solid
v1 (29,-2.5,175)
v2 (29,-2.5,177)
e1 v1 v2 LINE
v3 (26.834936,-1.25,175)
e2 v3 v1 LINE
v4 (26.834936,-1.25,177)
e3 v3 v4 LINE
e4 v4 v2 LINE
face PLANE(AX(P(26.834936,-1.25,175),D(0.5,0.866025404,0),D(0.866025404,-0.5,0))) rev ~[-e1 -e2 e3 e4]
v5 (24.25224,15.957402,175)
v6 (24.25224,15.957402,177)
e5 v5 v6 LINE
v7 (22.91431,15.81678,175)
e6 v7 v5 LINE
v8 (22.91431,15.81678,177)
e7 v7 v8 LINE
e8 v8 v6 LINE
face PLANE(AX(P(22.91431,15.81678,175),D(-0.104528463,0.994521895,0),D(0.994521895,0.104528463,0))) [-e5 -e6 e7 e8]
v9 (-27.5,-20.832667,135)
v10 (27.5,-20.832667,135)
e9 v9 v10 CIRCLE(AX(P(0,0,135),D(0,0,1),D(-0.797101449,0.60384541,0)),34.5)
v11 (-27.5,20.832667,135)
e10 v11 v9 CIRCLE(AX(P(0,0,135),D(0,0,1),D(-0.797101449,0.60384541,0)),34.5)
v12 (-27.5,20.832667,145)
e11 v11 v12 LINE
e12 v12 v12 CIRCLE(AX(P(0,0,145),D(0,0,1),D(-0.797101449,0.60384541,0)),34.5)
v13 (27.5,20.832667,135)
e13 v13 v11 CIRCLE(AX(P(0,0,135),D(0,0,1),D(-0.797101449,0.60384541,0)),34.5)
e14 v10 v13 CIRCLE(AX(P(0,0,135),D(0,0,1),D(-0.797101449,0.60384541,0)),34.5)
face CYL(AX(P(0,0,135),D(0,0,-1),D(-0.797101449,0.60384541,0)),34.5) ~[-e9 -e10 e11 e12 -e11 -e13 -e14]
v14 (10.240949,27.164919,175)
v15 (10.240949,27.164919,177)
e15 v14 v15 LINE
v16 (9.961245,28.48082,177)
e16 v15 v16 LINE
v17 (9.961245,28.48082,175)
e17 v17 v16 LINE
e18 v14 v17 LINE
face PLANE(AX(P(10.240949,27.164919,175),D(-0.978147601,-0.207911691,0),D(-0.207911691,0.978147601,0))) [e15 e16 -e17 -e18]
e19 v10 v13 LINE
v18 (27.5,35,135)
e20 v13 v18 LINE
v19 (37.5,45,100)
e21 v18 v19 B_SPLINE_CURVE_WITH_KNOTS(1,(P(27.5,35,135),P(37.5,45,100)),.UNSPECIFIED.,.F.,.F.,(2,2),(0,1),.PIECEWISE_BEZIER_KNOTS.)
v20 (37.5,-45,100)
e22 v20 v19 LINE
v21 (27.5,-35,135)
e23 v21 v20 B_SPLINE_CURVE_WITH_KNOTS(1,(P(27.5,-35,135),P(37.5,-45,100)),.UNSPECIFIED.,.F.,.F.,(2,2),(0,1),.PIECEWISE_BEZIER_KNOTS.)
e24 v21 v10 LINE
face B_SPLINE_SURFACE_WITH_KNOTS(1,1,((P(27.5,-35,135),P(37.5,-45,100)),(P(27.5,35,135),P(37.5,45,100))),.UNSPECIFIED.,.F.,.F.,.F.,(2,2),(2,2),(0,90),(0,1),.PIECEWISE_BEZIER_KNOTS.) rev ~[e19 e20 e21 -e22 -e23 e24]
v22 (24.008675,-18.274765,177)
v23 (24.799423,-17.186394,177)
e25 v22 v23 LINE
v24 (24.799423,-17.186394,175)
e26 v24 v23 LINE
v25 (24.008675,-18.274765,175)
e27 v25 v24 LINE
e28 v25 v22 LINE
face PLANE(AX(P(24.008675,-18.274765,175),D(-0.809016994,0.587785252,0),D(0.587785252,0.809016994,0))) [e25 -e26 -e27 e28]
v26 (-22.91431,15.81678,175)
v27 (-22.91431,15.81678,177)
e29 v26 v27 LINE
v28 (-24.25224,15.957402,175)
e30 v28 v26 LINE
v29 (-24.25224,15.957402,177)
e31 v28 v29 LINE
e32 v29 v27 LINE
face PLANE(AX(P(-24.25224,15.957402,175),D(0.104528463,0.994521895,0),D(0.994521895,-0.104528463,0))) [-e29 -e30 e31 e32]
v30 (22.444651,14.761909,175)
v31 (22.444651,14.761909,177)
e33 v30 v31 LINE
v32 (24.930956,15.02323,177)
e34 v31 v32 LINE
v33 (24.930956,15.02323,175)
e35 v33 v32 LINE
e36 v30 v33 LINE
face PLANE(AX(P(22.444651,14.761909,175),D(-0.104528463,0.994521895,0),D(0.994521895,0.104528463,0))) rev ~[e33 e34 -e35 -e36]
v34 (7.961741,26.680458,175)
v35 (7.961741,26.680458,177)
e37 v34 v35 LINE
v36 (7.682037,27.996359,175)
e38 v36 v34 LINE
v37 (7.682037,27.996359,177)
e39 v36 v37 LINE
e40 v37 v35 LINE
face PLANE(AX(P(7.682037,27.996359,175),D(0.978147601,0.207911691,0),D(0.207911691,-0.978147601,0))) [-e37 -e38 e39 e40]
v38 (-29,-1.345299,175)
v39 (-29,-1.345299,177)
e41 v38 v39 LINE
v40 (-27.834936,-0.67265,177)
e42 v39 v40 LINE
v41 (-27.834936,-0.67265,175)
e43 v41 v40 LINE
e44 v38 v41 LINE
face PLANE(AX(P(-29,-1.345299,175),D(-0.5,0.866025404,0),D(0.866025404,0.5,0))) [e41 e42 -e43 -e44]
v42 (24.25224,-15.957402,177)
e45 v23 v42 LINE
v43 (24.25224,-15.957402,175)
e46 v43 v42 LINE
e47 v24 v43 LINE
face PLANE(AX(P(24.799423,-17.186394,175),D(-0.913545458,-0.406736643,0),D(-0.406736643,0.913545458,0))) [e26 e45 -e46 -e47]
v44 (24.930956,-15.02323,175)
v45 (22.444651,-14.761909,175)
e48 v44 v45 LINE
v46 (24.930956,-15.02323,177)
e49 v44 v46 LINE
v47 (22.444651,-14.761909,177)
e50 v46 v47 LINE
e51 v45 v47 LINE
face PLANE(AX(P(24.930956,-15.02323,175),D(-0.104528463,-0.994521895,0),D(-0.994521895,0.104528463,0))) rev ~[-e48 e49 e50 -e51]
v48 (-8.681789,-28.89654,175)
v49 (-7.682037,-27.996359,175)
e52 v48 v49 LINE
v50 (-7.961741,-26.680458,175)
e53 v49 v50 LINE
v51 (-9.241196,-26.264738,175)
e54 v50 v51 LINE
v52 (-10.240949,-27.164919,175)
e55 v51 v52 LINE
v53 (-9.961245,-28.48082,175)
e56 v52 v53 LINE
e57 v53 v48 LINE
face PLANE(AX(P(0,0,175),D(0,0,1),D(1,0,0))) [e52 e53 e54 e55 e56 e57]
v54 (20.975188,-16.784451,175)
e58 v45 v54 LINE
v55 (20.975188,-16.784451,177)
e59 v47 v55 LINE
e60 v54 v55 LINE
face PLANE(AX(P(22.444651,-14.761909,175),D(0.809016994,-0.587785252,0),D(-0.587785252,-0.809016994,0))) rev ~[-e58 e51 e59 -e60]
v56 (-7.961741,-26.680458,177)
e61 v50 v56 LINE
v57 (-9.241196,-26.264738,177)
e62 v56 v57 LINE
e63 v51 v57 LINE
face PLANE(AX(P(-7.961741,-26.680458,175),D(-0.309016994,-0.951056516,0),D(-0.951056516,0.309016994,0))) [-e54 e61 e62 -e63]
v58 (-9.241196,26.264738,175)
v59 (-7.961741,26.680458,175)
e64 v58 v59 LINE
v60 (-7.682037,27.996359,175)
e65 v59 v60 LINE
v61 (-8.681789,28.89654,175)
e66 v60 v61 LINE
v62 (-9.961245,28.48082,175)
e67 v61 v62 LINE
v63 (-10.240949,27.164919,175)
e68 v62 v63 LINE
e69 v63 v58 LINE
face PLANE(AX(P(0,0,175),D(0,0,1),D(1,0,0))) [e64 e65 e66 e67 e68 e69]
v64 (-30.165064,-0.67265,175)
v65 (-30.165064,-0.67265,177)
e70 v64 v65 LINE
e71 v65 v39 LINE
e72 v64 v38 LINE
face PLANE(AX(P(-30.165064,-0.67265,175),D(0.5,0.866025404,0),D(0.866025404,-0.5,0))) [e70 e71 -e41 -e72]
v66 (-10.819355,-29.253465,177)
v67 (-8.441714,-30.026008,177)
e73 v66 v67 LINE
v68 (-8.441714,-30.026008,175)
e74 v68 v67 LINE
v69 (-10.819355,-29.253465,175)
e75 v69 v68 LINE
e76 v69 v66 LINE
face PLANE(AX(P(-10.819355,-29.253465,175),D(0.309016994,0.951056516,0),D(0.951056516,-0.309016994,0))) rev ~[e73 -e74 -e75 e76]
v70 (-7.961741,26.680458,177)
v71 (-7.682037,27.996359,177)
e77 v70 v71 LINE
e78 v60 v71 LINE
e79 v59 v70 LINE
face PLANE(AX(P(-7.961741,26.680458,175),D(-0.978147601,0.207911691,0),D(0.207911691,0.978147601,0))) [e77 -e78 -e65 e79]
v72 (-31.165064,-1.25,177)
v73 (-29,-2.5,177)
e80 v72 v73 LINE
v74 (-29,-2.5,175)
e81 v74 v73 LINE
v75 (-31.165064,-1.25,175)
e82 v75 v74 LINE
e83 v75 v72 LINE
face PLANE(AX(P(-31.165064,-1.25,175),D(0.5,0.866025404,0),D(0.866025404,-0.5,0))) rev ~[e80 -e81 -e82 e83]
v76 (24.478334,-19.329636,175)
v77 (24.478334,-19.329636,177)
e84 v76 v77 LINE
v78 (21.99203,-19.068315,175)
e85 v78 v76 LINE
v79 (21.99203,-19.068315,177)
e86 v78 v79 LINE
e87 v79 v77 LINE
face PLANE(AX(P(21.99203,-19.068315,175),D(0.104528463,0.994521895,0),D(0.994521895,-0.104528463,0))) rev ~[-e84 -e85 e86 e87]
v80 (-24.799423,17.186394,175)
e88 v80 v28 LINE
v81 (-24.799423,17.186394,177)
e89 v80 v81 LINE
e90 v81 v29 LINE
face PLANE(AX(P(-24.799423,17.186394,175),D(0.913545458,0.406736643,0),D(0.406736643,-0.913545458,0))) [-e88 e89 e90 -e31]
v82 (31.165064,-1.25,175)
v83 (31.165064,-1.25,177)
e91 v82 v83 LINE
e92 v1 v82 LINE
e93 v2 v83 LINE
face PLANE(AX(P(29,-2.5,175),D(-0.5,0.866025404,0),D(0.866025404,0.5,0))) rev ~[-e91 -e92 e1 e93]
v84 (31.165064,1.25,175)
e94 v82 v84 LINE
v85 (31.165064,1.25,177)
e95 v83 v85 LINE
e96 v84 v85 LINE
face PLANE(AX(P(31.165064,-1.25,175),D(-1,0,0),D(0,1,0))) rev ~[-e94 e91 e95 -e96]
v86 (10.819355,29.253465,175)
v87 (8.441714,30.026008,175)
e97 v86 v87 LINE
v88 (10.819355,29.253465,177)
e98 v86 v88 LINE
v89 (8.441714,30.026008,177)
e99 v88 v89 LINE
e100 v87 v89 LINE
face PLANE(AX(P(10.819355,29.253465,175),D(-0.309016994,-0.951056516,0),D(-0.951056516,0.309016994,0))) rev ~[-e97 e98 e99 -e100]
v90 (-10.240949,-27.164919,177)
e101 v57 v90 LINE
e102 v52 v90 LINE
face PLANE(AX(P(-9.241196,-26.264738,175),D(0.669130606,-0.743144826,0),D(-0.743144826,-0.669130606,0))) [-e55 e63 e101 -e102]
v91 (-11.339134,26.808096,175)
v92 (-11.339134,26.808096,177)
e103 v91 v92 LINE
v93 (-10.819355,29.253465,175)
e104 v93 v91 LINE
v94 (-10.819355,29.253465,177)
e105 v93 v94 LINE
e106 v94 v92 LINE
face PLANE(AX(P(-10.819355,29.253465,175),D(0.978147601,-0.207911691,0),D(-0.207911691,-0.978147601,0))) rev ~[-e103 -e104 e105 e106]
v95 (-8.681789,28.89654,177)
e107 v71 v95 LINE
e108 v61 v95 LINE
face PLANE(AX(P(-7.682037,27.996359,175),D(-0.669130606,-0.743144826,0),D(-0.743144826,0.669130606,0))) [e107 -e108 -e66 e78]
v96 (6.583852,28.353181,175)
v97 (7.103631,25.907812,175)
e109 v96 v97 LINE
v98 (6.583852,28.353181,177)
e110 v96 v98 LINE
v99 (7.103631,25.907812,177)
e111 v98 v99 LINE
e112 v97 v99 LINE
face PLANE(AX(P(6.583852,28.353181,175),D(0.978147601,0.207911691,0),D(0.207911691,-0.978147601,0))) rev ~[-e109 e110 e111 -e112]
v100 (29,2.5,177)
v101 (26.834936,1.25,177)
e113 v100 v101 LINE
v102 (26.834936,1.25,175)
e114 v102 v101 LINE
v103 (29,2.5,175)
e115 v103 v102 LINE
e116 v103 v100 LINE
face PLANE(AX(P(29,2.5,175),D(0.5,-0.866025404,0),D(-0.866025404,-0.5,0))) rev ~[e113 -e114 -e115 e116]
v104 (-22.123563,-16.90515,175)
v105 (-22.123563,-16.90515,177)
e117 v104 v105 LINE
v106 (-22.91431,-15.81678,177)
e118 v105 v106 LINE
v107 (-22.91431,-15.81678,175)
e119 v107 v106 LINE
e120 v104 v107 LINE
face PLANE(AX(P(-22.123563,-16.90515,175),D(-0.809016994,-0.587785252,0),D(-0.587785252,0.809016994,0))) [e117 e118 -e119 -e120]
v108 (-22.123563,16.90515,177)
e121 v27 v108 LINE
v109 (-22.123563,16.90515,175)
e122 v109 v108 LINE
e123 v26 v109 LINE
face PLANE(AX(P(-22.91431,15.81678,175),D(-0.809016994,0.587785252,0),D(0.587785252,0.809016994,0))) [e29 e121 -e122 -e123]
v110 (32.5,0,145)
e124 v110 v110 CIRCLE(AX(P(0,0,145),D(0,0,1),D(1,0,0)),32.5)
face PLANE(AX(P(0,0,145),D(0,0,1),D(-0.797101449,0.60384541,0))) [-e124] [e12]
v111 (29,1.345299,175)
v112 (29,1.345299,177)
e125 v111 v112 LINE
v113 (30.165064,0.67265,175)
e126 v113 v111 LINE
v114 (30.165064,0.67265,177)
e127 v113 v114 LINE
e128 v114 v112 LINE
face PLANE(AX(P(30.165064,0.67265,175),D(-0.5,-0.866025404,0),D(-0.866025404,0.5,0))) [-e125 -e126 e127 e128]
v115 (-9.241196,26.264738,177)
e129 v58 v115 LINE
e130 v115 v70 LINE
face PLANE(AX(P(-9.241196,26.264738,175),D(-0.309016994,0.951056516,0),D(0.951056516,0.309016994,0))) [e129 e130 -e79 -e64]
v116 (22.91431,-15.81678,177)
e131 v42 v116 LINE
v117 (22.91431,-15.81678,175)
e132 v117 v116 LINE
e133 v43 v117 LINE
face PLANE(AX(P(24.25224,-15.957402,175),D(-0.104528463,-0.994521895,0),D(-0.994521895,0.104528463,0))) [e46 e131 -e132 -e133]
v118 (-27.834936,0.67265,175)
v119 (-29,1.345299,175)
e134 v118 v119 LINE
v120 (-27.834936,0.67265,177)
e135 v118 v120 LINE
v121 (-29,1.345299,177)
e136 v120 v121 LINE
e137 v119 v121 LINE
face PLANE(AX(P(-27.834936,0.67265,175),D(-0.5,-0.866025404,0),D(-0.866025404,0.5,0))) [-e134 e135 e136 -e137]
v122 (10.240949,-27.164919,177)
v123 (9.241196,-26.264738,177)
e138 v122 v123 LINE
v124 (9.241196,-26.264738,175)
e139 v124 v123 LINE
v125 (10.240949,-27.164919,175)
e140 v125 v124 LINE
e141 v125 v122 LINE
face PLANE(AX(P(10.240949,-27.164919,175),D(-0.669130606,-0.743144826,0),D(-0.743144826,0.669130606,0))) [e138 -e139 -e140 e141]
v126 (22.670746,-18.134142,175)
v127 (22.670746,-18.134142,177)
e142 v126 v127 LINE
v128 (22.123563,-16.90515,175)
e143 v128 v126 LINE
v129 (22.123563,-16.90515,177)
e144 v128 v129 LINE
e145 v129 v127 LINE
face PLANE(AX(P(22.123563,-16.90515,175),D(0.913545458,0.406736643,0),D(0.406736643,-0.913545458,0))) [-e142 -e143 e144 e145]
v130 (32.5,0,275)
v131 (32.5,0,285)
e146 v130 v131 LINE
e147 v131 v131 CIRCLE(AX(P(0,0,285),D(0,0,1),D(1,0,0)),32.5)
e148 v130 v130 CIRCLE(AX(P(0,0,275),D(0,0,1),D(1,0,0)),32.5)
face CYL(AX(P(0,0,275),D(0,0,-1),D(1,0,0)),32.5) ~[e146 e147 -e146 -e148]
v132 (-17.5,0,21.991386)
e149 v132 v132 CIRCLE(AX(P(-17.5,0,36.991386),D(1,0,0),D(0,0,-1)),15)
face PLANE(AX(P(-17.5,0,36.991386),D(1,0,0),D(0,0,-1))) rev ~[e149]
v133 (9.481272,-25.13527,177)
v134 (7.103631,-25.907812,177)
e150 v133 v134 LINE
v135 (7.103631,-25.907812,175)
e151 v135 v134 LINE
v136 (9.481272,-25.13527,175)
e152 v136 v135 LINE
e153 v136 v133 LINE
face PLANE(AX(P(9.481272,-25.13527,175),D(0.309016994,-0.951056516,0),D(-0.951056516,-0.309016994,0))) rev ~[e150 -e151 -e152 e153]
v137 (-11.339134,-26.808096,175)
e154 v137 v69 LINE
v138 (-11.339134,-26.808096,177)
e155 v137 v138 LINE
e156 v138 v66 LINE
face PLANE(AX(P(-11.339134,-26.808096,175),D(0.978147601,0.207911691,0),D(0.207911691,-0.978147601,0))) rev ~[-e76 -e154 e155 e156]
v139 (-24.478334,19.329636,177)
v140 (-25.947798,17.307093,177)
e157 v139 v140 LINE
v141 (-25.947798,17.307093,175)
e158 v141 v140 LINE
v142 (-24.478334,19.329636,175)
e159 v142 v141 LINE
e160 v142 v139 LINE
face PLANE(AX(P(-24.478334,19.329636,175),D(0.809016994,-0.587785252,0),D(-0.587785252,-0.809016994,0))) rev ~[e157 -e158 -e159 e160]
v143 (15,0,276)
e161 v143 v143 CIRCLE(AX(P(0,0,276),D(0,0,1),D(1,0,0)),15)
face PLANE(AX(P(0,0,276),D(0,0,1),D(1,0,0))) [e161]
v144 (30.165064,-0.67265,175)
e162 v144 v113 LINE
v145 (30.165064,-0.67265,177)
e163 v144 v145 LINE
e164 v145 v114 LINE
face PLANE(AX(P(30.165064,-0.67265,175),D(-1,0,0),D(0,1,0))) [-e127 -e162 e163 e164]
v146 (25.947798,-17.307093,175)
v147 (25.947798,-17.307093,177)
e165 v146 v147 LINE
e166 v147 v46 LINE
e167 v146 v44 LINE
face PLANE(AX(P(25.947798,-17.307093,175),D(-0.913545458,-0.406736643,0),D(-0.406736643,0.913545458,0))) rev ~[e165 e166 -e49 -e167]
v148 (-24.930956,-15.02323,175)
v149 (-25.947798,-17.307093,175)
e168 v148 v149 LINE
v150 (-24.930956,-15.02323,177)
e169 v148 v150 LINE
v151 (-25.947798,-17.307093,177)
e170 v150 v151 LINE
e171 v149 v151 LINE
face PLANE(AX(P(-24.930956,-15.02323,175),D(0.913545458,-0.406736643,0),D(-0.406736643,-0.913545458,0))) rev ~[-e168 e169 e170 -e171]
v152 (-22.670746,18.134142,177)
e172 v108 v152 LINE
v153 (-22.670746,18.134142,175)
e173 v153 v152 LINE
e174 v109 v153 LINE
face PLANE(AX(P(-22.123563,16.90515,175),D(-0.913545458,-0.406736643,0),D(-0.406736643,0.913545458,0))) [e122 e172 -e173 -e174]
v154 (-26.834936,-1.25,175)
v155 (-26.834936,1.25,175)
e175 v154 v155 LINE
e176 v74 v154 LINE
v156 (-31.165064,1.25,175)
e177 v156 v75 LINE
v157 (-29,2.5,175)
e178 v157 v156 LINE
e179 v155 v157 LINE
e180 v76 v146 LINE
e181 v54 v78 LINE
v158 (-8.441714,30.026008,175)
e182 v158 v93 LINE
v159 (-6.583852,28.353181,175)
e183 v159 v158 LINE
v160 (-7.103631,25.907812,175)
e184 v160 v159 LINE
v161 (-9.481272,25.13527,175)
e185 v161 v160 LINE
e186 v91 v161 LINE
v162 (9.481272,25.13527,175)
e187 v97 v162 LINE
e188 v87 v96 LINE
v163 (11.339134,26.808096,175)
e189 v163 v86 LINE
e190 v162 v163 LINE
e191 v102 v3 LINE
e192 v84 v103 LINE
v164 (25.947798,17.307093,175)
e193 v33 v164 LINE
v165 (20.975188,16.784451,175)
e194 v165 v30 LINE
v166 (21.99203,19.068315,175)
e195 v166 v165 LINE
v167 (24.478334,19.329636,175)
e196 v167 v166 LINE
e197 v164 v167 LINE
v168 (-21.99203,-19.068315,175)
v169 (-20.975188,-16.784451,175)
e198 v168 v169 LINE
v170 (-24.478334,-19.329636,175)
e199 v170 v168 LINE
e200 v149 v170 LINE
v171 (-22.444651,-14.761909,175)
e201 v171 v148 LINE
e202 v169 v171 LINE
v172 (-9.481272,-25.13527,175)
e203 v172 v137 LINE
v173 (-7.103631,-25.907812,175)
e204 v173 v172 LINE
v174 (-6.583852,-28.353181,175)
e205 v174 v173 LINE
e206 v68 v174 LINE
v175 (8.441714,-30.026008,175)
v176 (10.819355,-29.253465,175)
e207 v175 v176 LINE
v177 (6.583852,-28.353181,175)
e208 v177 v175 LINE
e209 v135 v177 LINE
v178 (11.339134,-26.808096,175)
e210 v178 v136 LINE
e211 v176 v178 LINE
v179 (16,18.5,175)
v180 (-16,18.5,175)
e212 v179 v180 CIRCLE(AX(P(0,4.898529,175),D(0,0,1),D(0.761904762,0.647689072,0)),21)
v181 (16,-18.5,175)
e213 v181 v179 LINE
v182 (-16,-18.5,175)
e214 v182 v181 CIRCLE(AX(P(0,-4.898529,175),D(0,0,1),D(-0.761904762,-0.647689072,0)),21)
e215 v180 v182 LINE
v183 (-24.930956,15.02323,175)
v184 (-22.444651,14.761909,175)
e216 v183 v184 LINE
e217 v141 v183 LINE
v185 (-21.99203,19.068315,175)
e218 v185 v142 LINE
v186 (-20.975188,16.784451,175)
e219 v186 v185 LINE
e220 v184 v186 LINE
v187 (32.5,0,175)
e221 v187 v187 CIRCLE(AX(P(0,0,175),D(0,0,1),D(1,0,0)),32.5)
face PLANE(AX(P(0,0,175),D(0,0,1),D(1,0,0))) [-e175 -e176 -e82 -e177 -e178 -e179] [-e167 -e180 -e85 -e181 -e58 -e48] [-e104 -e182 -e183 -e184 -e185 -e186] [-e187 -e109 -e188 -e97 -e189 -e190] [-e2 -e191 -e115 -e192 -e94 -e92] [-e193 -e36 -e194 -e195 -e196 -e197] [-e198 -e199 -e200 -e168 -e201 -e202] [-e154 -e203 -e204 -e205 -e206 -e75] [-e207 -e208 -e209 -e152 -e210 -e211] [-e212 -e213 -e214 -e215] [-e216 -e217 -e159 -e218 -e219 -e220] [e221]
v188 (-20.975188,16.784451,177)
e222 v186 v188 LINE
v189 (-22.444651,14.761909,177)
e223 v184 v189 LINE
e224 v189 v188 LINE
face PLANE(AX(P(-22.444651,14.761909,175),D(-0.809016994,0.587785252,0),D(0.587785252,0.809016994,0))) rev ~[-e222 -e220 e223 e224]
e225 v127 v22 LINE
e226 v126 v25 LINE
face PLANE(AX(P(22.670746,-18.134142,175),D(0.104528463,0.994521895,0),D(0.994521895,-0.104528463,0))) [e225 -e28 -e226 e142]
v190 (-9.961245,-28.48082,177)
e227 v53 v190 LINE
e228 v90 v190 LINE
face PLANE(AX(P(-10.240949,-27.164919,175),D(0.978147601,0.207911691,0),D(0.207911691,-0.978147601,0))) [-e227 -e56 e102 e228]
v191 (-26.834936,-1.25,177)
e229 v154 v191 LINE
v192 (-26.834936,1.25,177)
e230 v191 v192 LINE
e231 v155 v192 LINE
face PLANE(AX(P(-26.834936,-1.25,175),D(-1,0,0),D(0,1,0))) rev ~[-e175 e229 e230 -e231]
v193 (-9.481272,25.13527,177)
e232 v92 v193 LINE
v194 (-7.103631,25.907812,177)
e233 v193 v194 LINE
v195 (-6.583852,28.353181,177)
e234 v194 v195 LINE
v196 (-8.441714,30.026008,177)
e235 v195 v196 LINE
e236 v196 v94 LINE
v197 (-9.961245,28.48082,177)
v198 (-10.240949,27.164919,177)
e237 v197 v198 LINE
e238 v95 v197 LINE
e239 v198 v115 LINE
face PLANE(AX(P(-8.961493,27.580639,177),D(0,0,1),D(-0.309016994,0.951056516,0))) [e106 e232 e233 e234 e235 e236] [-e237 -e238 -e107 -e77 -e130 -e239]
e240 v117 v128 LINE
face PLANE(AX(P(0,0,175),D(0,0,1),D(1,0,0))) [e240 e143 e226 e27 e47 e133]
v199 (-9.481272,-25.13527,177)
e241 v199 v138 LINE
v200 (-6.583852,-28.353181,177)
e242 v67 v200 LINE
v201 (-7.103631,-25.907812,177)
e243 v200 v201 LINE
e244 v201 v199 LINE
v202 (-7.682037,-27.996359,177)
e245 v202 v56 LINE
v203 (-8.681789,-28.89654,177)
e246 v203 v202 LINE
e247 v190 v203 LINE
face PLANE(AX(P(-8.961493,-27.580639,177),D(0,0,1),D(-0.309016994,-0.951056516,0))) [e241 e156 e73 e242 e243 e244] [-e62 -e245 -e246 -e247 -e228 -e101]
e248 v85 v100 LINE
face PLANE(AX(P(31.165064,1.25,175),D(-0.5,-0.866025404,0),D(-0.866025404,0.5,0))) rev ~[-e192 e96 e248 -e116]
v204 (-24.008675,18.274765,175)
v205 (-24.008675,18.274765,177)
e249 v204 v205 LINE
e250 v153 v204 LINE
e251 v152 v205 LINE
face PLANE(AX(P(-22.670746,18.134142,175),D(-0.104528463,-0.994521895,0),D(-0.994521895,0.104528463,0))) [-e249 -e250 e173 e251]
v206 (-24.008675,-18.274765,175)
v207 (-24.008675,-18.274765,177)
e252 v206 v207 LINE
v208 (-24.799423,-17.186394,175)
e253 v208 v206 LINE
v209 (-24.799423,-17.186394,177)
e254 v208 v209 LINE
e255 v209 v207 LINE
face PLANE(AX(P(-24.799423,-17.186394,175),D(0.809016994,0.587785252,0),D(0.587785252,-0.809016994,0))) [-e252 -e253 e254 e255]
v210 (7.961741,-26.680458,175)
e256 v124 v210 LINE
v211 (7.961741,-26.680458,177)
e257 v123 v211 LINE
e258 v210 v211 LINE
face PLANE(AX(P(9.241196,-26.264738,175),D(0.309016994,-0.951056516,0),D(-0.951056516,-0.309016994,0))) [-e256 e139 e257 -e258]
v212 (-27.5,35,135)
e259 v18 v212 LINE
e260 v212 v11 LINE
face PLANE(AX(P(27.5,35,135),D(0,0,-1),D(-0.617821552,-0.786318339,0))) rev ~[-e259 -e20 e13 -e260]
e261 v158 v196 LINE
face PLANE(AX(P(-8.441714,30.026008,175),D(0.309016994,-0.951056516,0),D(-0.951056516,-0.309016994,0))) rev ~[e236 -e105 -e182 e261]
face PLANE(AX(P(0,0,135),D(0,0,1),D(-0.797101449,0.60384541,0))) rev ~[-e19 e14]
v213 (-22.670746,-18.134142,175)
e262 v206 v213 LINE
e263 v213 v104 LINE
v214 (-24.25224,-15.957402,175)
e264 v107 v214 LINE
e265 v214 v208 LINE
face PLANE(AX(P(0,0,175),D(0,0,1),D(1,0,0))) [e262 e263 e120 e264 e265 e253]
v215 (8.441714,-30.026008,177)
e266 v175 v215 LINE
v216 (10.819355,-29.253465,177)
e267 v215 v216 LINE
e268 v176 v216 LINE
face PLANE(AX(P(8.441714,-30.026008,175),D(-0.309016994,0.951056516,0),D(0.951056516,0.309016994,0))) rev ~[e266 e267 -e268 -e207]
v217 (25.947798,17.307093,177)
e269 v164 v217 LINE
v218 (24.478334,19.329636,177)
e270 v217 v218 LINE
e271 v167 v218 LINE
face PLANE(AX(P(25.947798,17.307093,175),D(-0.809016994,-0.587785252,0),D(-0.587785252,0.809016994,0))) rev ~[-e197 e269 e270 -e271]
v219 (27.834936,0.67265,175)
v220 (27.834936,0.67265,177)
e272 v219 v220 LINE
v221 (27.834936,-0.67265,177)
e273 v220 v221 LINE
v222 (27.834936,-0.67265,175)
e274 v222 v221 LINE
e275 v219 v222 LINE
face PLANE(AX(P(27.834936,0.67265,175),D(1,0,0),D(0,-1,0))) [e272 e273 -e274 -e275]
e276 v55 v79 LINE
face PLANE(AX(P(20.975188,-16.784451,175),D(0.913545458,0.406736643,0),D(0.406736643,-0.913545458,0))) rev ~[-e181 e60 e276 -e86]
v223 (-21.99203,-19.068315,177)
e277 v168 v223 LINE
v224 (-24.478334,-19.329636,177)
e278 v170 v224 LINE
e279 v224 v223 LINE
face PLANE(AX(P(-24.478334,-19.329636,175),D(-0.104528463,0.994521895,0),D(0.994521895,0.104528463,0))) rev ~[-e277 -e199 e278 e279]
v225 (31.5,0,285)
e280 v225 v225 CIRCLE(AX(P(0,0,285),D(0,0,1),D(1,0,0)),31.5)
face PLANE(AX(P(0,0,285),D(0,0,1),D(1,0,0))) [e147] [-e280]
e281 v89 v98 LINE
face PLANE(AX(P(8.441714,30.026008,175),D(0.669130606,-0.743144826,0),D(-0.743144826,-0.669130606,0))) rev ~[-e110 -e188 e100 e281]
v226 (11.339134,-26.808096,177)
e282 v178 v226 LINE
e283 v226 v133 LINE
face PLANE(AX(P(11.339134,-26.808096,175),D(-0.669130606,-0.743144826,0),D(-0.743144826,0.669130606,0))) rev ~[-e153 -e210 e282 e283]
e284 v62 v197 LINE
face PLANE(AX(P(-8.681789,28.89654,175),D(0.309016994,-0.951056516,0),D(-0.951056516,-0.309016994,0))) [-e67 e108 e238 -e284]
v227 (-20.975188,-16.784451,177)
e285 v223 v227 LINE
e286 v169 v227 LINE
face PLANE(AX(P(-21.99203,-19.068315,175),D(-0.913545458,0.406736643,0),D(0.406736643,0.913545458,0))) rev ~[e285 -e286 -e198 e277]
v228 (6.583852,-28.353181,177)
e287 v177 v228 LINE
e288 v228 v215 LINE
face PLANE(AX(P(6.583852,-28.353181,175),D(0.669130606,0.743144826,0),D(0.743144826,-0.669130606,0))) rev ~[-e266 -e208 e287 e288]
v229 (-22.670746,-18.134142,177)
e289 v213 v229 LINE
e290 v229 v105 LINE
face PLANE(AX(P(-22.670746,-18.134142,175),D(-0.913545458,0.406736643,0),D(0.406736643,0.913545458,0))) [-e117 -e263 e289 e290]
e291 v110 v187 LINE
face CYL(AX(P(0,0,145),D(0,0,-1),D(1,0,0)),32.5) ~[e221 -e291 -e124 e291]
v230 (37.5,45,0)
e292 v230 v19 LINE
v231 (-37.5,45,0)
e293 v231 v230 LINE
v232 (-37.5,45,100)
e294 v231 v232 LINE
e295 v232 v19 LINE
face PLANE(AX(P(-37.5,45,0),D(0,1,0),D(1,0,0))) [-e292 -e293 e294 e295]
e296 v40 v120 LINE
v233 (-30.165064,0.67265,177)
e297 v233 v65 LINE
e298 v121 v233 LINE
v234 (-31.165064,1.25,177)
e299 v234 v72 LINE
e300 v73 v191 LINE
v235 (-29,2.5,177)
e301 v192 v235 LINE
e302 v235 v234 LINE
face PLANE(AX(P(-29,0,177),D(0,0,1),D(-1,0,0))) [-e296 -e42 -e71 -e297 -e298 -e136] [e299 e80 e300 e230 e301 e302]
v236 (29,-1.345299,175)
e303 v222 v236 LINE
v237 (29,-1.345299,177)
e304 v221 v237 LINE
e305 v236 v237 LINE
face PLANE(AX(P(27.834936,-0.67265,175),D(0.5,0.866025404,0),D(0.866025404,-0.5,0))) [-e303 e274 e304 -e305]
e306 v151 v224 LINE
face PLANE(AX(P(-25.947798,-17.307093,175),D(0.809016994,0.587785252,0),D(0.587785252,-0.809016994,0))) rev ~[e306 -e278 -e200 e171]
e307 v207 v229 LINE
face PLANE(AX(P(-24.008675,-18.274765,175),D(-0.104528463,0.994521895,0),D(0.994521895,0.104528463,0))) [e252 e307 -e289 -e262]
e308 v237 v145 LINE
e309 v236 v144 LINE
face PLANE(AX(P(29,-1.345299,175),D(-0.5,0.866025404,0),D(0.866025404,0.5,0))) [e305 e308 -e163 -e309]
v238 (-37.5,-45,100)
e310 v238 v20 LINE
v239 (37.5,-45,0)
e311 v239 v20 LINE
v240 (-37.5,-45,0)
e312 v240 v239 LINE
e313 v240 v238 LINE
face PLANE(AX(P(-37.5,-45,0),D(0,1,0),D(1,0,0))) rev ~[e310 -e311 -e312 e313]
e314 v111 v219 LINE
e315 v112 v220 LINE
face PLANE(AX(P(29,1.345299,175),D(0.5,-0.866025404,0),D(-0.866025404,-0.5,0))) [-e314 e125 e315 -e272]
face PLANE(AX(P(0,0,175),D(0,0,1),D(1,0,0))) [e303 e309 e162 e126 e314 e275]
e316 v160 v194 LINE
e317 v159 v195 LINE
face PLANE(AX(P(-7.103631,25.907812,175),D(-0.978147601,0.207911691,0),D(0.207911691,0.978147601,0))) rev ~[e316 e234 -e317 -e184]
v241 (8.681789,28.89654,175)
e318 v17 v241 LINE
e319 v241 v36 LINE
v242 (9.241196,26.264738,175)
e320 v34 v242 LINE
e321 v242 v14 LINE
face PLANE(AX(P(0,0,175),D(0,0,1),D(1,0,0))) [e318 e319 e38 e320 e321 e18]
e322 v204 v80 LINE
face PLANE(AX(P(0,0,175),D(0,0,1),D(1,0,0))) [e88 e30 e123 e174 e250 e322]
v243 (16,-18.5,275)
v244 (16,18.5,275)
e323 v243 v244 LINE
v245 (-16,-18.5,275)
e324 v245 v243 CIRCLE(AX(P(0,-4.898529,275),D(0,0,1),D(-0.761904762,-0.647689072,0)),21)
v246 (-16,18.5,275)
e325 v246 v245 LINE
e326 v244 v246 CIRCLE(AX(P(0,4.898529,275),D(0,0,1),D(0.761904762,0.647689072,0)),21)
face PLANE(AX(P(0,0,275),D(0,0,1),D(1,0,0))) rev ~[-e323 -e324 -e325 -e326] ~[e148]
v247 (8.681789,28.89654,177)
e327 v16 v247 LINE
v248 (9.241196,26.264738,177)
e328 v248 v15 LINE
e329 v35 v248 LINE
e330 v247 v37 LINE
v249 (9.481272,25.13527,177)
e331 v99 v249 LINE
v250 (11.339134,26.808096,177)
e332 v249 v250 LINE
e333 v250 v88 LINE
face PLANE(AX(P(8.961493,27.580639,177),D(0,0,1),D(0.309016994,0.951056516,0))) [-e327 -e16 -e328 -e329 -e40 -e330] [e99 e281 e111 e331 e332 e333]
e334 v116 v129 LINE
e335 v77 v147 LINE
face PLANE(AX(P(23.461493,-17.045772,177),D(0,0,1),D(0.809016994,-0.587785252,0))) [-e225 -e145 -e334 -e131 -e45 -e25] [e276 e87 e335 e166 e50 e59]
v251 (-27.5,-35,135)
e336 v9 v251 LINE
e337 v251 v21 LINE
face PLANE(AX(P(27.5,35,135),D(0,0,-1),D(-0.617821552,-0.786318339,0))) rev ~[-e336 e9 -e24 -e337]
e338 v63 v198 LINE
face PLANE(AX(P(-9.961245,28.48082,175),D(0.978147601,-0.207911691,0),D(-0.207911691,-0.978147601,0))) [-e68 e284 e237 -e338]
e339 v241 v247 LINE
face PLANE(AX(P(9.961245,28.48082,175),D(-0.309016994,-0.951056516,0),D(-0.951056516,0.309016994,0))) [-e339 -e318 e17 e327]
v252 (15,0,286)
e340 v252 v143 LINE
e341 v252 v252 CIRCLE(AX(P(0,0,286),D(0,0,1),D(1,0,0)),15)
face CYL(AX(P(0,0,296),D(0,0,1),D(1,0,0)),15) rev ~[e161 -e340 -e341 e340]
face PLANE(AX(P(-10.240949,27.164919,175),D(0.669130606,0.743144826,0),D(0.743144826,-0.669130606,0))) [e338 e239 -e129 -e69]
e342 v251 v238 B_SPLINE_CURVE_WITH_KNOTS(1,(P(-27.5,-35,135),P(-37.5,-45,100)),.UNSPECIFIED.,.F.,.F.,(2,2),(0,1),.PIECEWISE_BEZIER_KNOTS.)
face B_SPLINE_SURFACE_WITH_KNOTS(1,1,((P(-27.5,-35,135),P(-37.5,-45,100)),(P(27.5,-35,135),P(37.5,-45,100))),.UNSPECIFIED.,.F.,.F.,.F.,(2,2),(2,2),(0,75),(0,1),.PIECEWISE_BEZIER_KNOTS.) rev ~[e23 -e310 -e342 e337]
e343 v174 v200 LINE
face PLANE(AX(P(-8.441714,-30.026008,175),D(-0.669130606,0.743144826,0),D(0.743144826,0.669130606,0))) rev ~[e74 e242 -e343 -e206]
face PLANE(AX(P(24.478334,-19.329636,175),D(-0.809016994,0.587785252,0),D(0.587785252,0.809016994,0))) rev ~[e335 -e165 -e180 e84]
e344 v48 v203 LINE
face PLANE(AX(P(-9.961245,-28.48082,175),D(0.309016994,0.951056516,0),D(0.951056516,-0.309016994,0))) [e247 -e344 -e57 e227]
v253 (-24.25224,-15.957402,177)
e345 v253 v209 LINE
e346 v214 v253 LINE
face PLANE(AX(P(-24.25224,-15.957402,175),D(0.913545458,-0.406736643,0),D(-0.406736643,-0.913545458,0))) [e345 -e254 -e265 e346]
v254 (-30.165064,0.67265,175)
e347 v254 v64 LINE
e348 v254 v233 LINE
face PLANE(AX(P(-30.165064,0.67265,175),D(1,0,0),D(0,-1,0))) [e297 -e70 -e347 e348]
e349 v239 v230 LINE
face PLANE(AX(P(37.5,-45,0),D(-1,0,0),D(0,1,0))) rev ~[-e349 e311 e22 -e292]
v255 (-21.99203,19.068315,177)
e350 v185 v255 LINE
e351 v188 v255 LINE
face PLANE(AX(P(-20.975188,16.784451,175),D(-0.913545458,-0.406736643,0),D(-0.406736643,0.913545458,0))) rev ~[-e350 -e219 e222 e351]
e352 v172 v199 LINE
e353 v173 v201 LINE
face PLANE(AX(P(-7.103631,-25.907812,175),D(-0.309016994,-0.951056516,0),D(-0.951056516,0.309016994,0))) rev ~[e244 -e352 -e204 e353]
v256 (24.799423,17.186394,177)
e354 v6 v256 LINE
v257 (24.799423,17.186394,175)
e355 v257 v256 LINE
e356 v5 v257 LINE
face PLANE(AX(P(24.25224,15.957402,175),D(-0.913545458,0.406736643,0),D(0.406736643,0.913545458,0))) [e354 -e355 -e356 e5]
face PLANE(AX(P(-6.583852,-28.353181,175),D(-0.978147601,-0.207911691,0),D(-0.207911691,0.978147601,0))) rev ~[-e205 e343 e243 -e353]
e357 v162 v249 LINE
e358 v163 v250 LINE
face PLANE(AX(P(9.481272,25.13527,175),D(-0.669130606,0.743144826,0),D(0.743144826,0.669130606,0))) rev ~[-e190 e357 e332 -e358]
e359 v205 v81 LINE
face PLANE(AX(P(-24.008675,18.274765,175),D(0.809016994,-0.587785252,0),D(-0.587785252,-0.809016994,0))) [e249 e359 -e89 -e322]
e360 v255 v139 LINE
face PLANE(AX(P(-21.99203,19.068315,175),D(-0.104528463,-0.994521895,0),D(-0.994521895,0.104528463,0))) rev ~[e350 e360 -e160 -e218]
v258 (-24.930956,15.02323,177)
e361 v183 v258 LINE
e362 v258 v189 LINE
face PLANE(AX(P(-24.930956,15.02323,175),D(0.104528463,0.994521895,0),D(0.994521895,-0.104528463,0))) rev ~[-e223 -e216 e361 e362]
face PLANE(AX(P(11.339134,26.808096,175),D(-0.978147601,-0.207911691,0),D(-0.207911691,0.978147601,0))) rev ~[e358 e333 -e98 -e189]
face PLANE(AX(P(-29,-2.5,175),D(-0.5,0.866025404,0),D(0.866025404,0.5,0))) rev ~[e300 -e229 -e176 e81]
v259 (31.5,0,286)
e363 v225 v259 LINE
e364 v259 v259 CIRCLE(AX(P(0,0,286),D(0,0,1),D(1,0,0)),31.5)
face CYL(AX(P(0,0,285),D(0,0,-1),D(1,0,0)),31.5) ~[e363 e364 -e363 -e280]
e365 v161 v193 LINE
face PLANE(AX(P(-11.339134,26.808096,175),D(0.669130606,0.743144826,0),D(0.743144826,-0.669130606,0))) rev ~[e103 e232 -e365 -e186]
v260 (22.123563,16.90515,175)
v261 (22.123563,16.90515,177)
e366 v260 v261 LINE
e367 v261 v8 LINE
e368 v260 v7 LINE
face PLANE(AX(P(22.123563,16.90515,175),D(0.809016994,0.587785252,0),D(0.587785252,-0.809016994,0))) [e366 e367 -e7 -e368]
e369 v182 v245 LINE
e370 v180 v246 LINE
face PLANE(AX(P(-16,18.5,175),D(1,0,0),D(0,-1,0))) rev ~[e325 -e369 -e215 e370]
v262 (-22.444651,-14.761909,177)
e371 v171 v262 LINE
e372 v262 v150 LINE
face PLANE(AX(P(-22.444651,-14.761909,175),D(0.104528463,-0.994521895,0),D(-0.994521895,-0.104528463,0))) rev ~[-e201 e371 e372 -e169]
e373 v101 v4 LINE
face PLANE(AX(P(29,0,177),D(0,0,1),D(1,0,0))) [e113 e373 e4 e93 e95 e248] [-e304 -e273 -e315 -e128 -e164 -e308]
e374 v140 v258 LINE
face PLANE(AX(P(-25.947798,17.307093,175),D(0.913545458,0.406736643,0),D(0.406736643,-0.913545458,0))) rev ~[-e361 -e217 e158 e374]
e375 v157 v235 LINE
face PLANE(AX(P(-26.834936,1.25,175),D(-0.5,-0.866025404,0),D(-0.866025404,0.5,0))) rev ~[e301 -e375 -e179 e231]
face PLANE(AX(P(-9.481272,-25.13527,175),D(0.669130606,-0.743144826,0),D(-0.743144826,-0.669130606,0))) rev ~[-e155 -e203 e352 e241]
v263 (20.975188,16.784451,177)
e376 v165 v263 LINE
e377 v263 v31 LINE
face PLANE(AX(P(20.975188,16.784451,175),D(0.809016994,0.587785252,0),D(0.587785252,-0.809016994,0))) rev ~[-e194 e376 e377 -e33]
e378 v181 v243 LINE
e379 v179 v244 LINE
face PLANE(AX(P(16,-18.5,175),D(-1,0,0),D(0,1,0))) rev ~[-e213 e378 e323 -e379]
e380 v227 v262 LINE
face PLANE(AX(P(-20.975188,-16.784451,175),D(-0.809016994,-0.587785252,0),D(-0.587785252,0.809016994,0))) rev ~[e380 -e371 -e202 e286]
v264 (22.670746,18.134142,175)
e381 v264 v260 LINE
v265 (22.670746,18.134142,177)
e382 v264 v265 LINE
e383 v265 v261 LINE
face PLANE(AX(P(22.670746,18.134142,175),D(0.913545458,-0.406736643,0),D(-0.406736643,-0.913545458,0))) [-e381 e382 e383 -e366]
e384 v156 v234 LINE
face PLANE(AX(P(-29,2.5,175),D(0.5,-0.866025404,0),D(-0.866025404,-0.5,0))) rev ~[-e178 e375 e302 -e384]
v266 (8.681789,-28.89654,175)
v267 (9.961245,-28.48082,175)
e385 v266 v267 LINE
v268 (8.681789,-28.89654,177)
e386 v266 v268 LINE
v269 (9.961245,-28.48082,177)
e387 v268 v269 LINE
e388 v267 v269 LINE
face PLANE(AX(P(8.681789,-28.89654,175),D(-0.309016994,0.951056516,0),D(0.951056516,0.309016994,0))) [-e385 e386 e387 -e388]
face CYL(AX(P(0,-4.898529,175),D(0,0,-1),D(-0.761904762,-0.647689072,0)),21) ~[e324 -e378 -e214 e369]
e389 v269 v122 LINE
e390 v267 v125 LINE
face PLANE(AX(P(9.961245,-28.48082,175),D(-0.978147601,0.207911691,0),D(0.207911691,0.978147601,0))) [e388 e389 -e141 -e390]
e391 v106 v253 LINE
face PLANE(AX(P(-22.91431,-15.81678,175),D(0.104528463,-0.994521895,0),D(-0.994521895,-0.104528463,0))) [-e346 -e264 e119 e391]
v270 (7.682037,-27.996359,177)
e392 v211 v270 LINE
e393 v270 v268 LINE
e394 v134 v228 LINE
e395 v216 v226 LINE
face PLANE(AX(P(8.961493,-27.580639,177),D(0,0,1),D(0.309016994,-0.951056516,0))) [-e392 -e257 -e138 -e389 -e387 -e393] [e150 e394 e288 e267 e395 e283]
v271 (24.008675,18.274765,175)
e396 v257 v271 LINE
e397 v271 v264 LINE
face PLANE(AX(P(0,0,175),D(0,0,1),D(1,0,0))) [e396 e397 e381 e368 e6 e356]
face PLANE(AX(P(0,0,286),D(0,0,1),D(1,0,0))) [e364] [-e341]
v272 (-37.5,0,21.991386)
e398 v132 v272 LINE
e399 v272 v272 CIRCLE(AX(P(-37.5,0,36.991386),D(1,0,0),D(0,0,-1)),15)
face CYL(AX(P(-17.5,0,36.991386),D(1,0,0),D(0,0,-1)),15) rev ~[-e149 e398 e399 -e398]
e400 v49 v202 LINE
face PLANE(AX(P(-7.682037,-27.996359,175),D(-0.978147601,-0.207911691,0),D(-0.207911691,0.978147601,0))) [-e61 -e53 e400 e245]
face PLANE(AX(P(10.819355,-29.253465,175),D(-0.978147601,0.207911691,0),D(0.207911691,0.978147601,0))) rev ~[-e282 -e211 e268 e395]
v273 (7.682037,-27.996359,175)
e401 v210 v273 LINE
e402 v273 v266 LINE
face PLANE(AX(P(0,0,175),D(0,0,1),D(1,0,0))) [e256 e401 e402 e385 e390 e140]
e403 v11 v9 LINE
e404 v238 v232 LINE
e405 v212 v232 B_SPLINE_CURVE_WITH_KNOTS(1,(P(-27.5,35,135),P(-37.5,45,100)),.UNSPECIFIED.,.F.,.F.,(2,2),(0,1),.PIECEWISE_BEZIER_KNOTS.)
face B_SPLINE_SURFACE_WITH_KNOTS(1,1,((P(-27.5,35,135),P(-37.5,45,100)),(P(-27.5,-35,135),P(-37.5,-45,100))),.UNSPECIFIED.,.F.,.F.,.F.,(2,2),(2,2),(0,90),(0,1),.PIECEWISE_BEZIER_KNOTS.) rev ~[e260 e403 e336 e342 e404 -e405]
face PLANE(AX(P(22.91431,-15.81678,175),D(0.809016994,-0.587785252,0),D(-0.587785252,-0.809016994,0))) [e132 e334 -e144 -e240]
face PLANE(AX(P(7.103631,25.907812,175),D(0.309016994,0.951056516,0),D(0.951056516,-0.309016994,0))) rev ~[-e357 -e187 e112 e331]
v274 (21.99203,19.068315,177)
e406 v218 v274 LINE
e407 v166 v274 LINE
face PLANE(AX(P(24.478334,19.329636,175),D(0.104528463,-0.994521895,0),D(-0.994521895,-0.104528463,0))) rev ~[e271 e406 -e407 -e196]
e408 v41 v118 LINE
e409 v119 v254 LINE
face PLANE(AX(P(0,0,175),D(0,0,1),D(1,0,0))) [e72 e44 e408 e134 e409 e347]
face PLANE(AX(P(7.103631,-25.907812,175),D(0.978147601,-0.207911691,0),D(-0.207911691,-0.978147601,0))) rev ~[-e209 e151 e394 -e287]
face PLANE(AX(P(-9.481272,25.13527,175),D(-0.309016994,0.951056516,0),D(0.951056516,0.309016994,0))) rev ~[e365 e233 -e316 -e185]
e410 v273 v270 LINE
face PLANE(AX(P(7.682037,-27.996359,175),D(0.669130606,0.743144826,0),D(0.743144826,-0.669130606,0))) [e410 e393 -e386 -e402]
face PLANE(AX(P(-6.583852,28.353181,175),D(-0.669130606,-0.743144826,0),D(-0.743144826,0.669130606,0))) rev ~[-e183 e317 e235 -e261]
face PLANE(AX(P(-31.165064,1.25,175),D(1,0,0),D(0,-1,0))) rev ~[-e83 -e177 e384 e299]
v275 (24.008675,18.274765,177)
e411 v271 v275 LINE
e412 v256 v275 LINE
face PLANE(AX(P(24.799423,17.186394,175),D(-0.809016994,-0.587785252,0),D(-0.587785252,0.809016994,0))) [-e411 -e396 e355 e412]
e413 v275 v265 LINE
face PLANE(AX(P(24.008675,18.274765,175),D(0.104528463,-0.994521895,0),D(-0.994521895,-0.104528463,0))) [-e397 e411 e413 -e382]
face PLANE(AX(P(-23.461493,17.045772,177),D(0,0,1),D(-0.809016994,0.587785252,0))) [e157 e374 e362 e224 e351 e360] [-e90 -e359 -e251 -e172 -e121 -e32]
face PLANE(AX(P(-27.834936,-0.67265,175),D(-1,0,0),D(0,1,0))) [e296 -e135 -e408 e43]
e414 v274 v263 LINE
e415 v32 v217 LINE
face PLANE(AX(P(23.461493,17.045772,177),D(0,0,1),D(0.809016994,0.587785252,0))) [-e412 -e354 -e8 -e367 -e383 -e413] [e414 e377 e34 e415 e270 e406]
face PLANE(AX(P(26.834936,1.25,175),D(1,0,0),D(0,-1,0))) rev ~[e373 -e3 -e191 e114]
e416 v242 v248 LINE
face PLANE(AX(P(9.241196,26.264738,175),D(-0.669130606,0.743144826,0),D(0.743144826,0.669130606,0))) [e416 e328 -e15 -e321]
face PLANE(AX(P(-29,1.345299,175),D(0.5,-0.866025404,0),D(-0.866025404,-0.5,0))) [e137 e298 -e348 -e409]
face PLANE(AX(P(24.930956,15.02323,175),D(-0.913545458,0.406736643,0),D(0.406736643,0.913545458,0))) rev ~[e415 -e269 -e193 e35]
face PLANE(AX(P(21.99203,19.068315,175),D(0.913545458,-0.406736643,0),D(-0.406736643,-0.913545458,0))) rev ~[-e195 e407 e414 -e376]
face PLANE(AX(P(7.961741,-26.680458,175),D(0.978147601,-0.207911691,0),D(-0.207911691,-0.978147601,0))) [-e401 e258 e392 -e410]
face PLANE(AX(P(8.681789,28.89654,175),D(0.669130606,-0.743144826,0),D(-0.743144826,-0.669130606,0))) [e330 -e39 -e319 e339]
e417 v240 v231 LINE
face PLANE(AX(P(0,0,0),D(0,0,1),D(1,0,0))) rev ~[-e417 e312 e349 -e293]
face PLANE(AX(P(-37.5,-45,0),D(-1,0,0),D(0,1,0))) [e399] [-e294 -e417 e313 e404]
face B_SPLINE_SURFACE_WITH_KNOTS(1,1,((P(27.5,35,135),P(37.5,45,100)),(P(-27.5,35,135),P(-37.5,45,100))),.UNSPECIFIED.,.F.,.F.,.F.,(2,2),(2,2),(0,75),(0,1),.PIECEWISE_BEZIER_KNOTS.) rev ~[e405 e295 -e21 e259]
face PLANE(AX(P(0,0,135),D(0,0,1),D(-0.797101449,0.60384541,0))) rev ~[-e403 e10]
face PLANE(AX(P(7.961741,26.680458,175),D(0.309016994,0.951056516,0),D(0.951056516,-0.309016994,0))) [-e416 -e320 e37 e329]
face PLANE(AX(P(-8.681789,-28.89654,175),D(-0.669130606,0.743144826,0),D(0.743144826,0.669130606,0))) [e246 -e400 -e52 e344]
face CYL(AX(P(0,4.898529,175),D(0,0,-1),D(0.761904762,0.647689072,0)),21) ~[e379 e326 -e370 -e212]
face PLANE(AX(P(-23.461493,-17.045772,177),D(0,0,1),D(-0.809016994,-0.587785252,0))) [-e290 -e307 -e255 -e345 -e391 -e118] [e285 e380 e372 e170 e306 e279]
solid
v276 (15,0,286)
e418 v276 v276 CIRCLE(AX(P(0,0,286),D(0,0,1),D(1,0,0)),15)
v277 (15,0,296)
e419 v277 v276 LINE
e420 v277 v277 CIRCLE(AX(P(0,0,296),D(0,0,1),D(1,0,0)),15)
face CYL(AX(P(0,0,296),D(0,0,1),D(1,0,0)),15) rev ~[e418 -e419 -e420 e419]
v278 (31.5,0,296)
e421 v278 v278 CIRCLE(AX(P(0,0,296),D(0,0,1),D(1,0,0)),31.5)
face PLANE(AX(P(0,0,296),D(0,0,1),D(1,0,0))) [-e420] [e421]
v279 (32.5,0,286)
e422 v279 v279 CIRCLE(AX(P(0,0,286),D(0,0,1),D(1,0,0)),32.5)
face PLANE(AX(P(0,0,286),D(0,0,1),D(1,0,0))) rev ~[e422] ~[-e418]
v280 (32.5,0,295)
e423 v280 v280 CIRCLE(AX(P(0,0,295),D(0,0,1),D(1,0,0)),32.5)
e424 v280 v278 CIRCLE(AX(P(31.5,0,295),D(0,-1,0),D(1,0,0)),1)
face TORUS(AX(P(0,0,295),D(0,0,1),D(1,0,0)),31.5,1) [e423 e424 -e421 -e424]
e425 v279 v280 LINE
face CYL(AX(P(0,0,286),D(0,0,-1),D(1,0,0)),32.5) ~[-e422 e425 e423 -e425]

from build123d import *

# Parameters (mm, degrees)
SKETCH1_W           = 75
SKETCH1_H           = 90
BOSS_EXTRUDE1_DEPTH = 100
SKETCH4_R           = 34.5
BOSS_EXTRUDE2_DEPTH = 10
SKETCH5_R           = 32.5
BOSS_EXTRUDE3_DEPTH = 30
BOSS_EXTRUDE4_DEPTH = 2
CIRPATTERN1_COUNT   = 10
BOSS_EXTRUDE5_DEPTH = 100
SKETCH8_R           = 32.5
BOSS_EXTRUDE6_DEPTH = 10
SKETCH9_R           = 31.5
BOSS_EXTRUDE7_DEPTH = 1
SKETCH10_R          = 32.5
BOSS_EXTRUDE8_DEPTH = 10
FILLET2_R           = 1
SKETCH15_R          = 15
CUT_EXTRUDE2_DEPTH  = 20
CUT_EXTRUDE3_START  = -17.5
SKETCH16_R          = 15
CUT_EXTRUDE3_DEPTH  = 20


with BuildPart() as part:
    # Sketch1 → Boss-Extrude1 (new body)
    with BuildSketch(Plane.XY):
        Rectangle(SKETCH1_W, SKETCH1_H)
    extrude(amount=BOSS_EXTRUDE1_DEPTH)

    # Sketch3 → Loft1 section 0
    with BuildSketch(Plane.XY.offset(135)):
        with BuildLine():
            Line((27.5, 35), (-27.5, 35))
            Line((-27.5, 35), (-27.5, -35))
            Line((-27.5, -35), (27.5, -35))
            Line((27.5, -35), (27.5, 35))
        make_face()
    # Sketch2 → Loft1 section 1
    with BuildSketch(Plane.XY.offset(100)):
        with BuildLine():
            Line((37.5, 45), (-37.5, 45))
            Line((-37.5, 45), (-37.5, -45))
            Line((-37.5, -45), (37.5, -45))
            Line((37.5, -45), (37.5, 45))
        make_face()
    loft()

    # Sketch4 → Boss-Extrude2 (add)
    with BuildSketch(Plane.XY.offset(135)):
        with Locations(Location((0, 0, 0), (0, 0, 142.854195828))):
            Circle(SKETCH4_R)
    extrude(amount=BOSS_EXTRUDE2_DEPTH)

    # Sketch5 → Boss-Extrude3 (add)
    with BuildSketch(Plane.XY.offset(145)):
        Circle(SKETCH5_R)
    extrude(amount=BOSS_EXTRUDE3_DEPTH)

    # Sketch6 → Boss-Extrude4 (add)
    with BuildSketch(Plane.XY.offset(175)):
        Polygon((29, 2.5), (26.834936491, 1.25), (26.834936491, -1.25), (29, -2.5), (31.165063509, -1.25), (31.165063509, 1.25), align=None)
        Polygon((29, 1.345299462), (27.834936491, 0.672649731), (27.834936491, -0.672649731), (29, -1.345299462), (30.165063509, -0.672649731), (30.165063509, 0.672649731), align=None, mode=Mode.SUBTRACT)
    boss_extrude4 = extrude(amount=BOSS_EXTRUDE4_DEPTH)

    # CirPattern1: Boss-Extrude4 ×10 about axis
    cirpattern1_axis = Axis((0, 0, 0), (0, 0, 1))
    for i in range(1, CIRPATTERN1_COUNT):
        add(boss_extrude4.rotate(cirpattern1_axis, i * 360 / CIRPATTERN1_COUNT))

    # Sketch7 → Boss-Extrude5 (add)
    with BuildSketch(Plane.XY.offset(175)):
        with BuildLine():
            Line((16, -18.5), (16, 18.5))
            ThreePointArc((16, 18.5), (0, 25.898529491), (-16, 18.5))
            Line((-16, 18.5), (-16, -18.5))
            ThreePointArc((-16, -18.5), (0, -25.898529491), (16, -18.5))
        make_face()
    extrude(amount=BOSS_EXTRUDE5_DEPTH)

    # Sketch8 → Boss-Extrude6 (add)
    with BuildSketch(Plane.XY.offset(275)):
        Circle(SKETCH8_R)
    extrude(amount=BOSS_EXTRUDE6_DEPTH)

    # Sketch9 → Boss-Extrude7 (add)
    with BuildSketch(Plane.XY.offset(285)):
        Circle(SKETCH9_R)
    extrude(amount=BOSS_EXTRUDE7_DEPTH)


with BuildPart() as body_2:
    # Sketch10 → Boss-Extrude8 (new body)
    with BuildSketch(Plane.XY.offset(286)):
        Circle(SKETCH10_R)
    extrude(amount=BOSS_EXTRUDE8_DEPTH)

    # Fillet2
    fillet2_edges = [body_2.edges().sort_by_distance(p)[0] for p in [
        (-32.5, 0, 296),
    ]]
    fillet(fillet2_edges, radius=FILLET2_R)


with BuildPart() as cut_extrude2_tool:
    # Sketch15 → Cut-Extrude2 (new body)
    with BuildSketch(Plane.XY.offset(296)):
        Circle(SKETCH15_R)
    extrude(amount=-CUT_EXTRUDE2_DEPTH)


with BuildPart() as part_1:
    add(part.part)

    # Cut-Extrude2: cut by cut_extrude2_tool
    add(cut_extrude2_tool.part, mode=Mode.SUBTRACT)

    # Sketch16 → Cut-Extrude3 (cut)
    with BuildSketch(Plane(origin=(0, 0, 0), x_dir=(0, 0, -1), z_dir=(1, 0, 0)).offset(CUT_EXTRUDE3_START)):
        with Locations((-36.991386067, 0)):
            Circle(SKETCH16_R)
    extrude(amount=-CUT_EXTRUDE3_DEPTH, mode=Mode.SUBTRACT)


with BuildPart() as body_2_1:
    add(body_2.part)

    # Cut-Extrude2: cut by cut_extrude2_tool
    add(cut_extrude2_tool.part, mode=Mode.SUBTRACT)


solid = Compound([part_1.part, body_2_1.part])
